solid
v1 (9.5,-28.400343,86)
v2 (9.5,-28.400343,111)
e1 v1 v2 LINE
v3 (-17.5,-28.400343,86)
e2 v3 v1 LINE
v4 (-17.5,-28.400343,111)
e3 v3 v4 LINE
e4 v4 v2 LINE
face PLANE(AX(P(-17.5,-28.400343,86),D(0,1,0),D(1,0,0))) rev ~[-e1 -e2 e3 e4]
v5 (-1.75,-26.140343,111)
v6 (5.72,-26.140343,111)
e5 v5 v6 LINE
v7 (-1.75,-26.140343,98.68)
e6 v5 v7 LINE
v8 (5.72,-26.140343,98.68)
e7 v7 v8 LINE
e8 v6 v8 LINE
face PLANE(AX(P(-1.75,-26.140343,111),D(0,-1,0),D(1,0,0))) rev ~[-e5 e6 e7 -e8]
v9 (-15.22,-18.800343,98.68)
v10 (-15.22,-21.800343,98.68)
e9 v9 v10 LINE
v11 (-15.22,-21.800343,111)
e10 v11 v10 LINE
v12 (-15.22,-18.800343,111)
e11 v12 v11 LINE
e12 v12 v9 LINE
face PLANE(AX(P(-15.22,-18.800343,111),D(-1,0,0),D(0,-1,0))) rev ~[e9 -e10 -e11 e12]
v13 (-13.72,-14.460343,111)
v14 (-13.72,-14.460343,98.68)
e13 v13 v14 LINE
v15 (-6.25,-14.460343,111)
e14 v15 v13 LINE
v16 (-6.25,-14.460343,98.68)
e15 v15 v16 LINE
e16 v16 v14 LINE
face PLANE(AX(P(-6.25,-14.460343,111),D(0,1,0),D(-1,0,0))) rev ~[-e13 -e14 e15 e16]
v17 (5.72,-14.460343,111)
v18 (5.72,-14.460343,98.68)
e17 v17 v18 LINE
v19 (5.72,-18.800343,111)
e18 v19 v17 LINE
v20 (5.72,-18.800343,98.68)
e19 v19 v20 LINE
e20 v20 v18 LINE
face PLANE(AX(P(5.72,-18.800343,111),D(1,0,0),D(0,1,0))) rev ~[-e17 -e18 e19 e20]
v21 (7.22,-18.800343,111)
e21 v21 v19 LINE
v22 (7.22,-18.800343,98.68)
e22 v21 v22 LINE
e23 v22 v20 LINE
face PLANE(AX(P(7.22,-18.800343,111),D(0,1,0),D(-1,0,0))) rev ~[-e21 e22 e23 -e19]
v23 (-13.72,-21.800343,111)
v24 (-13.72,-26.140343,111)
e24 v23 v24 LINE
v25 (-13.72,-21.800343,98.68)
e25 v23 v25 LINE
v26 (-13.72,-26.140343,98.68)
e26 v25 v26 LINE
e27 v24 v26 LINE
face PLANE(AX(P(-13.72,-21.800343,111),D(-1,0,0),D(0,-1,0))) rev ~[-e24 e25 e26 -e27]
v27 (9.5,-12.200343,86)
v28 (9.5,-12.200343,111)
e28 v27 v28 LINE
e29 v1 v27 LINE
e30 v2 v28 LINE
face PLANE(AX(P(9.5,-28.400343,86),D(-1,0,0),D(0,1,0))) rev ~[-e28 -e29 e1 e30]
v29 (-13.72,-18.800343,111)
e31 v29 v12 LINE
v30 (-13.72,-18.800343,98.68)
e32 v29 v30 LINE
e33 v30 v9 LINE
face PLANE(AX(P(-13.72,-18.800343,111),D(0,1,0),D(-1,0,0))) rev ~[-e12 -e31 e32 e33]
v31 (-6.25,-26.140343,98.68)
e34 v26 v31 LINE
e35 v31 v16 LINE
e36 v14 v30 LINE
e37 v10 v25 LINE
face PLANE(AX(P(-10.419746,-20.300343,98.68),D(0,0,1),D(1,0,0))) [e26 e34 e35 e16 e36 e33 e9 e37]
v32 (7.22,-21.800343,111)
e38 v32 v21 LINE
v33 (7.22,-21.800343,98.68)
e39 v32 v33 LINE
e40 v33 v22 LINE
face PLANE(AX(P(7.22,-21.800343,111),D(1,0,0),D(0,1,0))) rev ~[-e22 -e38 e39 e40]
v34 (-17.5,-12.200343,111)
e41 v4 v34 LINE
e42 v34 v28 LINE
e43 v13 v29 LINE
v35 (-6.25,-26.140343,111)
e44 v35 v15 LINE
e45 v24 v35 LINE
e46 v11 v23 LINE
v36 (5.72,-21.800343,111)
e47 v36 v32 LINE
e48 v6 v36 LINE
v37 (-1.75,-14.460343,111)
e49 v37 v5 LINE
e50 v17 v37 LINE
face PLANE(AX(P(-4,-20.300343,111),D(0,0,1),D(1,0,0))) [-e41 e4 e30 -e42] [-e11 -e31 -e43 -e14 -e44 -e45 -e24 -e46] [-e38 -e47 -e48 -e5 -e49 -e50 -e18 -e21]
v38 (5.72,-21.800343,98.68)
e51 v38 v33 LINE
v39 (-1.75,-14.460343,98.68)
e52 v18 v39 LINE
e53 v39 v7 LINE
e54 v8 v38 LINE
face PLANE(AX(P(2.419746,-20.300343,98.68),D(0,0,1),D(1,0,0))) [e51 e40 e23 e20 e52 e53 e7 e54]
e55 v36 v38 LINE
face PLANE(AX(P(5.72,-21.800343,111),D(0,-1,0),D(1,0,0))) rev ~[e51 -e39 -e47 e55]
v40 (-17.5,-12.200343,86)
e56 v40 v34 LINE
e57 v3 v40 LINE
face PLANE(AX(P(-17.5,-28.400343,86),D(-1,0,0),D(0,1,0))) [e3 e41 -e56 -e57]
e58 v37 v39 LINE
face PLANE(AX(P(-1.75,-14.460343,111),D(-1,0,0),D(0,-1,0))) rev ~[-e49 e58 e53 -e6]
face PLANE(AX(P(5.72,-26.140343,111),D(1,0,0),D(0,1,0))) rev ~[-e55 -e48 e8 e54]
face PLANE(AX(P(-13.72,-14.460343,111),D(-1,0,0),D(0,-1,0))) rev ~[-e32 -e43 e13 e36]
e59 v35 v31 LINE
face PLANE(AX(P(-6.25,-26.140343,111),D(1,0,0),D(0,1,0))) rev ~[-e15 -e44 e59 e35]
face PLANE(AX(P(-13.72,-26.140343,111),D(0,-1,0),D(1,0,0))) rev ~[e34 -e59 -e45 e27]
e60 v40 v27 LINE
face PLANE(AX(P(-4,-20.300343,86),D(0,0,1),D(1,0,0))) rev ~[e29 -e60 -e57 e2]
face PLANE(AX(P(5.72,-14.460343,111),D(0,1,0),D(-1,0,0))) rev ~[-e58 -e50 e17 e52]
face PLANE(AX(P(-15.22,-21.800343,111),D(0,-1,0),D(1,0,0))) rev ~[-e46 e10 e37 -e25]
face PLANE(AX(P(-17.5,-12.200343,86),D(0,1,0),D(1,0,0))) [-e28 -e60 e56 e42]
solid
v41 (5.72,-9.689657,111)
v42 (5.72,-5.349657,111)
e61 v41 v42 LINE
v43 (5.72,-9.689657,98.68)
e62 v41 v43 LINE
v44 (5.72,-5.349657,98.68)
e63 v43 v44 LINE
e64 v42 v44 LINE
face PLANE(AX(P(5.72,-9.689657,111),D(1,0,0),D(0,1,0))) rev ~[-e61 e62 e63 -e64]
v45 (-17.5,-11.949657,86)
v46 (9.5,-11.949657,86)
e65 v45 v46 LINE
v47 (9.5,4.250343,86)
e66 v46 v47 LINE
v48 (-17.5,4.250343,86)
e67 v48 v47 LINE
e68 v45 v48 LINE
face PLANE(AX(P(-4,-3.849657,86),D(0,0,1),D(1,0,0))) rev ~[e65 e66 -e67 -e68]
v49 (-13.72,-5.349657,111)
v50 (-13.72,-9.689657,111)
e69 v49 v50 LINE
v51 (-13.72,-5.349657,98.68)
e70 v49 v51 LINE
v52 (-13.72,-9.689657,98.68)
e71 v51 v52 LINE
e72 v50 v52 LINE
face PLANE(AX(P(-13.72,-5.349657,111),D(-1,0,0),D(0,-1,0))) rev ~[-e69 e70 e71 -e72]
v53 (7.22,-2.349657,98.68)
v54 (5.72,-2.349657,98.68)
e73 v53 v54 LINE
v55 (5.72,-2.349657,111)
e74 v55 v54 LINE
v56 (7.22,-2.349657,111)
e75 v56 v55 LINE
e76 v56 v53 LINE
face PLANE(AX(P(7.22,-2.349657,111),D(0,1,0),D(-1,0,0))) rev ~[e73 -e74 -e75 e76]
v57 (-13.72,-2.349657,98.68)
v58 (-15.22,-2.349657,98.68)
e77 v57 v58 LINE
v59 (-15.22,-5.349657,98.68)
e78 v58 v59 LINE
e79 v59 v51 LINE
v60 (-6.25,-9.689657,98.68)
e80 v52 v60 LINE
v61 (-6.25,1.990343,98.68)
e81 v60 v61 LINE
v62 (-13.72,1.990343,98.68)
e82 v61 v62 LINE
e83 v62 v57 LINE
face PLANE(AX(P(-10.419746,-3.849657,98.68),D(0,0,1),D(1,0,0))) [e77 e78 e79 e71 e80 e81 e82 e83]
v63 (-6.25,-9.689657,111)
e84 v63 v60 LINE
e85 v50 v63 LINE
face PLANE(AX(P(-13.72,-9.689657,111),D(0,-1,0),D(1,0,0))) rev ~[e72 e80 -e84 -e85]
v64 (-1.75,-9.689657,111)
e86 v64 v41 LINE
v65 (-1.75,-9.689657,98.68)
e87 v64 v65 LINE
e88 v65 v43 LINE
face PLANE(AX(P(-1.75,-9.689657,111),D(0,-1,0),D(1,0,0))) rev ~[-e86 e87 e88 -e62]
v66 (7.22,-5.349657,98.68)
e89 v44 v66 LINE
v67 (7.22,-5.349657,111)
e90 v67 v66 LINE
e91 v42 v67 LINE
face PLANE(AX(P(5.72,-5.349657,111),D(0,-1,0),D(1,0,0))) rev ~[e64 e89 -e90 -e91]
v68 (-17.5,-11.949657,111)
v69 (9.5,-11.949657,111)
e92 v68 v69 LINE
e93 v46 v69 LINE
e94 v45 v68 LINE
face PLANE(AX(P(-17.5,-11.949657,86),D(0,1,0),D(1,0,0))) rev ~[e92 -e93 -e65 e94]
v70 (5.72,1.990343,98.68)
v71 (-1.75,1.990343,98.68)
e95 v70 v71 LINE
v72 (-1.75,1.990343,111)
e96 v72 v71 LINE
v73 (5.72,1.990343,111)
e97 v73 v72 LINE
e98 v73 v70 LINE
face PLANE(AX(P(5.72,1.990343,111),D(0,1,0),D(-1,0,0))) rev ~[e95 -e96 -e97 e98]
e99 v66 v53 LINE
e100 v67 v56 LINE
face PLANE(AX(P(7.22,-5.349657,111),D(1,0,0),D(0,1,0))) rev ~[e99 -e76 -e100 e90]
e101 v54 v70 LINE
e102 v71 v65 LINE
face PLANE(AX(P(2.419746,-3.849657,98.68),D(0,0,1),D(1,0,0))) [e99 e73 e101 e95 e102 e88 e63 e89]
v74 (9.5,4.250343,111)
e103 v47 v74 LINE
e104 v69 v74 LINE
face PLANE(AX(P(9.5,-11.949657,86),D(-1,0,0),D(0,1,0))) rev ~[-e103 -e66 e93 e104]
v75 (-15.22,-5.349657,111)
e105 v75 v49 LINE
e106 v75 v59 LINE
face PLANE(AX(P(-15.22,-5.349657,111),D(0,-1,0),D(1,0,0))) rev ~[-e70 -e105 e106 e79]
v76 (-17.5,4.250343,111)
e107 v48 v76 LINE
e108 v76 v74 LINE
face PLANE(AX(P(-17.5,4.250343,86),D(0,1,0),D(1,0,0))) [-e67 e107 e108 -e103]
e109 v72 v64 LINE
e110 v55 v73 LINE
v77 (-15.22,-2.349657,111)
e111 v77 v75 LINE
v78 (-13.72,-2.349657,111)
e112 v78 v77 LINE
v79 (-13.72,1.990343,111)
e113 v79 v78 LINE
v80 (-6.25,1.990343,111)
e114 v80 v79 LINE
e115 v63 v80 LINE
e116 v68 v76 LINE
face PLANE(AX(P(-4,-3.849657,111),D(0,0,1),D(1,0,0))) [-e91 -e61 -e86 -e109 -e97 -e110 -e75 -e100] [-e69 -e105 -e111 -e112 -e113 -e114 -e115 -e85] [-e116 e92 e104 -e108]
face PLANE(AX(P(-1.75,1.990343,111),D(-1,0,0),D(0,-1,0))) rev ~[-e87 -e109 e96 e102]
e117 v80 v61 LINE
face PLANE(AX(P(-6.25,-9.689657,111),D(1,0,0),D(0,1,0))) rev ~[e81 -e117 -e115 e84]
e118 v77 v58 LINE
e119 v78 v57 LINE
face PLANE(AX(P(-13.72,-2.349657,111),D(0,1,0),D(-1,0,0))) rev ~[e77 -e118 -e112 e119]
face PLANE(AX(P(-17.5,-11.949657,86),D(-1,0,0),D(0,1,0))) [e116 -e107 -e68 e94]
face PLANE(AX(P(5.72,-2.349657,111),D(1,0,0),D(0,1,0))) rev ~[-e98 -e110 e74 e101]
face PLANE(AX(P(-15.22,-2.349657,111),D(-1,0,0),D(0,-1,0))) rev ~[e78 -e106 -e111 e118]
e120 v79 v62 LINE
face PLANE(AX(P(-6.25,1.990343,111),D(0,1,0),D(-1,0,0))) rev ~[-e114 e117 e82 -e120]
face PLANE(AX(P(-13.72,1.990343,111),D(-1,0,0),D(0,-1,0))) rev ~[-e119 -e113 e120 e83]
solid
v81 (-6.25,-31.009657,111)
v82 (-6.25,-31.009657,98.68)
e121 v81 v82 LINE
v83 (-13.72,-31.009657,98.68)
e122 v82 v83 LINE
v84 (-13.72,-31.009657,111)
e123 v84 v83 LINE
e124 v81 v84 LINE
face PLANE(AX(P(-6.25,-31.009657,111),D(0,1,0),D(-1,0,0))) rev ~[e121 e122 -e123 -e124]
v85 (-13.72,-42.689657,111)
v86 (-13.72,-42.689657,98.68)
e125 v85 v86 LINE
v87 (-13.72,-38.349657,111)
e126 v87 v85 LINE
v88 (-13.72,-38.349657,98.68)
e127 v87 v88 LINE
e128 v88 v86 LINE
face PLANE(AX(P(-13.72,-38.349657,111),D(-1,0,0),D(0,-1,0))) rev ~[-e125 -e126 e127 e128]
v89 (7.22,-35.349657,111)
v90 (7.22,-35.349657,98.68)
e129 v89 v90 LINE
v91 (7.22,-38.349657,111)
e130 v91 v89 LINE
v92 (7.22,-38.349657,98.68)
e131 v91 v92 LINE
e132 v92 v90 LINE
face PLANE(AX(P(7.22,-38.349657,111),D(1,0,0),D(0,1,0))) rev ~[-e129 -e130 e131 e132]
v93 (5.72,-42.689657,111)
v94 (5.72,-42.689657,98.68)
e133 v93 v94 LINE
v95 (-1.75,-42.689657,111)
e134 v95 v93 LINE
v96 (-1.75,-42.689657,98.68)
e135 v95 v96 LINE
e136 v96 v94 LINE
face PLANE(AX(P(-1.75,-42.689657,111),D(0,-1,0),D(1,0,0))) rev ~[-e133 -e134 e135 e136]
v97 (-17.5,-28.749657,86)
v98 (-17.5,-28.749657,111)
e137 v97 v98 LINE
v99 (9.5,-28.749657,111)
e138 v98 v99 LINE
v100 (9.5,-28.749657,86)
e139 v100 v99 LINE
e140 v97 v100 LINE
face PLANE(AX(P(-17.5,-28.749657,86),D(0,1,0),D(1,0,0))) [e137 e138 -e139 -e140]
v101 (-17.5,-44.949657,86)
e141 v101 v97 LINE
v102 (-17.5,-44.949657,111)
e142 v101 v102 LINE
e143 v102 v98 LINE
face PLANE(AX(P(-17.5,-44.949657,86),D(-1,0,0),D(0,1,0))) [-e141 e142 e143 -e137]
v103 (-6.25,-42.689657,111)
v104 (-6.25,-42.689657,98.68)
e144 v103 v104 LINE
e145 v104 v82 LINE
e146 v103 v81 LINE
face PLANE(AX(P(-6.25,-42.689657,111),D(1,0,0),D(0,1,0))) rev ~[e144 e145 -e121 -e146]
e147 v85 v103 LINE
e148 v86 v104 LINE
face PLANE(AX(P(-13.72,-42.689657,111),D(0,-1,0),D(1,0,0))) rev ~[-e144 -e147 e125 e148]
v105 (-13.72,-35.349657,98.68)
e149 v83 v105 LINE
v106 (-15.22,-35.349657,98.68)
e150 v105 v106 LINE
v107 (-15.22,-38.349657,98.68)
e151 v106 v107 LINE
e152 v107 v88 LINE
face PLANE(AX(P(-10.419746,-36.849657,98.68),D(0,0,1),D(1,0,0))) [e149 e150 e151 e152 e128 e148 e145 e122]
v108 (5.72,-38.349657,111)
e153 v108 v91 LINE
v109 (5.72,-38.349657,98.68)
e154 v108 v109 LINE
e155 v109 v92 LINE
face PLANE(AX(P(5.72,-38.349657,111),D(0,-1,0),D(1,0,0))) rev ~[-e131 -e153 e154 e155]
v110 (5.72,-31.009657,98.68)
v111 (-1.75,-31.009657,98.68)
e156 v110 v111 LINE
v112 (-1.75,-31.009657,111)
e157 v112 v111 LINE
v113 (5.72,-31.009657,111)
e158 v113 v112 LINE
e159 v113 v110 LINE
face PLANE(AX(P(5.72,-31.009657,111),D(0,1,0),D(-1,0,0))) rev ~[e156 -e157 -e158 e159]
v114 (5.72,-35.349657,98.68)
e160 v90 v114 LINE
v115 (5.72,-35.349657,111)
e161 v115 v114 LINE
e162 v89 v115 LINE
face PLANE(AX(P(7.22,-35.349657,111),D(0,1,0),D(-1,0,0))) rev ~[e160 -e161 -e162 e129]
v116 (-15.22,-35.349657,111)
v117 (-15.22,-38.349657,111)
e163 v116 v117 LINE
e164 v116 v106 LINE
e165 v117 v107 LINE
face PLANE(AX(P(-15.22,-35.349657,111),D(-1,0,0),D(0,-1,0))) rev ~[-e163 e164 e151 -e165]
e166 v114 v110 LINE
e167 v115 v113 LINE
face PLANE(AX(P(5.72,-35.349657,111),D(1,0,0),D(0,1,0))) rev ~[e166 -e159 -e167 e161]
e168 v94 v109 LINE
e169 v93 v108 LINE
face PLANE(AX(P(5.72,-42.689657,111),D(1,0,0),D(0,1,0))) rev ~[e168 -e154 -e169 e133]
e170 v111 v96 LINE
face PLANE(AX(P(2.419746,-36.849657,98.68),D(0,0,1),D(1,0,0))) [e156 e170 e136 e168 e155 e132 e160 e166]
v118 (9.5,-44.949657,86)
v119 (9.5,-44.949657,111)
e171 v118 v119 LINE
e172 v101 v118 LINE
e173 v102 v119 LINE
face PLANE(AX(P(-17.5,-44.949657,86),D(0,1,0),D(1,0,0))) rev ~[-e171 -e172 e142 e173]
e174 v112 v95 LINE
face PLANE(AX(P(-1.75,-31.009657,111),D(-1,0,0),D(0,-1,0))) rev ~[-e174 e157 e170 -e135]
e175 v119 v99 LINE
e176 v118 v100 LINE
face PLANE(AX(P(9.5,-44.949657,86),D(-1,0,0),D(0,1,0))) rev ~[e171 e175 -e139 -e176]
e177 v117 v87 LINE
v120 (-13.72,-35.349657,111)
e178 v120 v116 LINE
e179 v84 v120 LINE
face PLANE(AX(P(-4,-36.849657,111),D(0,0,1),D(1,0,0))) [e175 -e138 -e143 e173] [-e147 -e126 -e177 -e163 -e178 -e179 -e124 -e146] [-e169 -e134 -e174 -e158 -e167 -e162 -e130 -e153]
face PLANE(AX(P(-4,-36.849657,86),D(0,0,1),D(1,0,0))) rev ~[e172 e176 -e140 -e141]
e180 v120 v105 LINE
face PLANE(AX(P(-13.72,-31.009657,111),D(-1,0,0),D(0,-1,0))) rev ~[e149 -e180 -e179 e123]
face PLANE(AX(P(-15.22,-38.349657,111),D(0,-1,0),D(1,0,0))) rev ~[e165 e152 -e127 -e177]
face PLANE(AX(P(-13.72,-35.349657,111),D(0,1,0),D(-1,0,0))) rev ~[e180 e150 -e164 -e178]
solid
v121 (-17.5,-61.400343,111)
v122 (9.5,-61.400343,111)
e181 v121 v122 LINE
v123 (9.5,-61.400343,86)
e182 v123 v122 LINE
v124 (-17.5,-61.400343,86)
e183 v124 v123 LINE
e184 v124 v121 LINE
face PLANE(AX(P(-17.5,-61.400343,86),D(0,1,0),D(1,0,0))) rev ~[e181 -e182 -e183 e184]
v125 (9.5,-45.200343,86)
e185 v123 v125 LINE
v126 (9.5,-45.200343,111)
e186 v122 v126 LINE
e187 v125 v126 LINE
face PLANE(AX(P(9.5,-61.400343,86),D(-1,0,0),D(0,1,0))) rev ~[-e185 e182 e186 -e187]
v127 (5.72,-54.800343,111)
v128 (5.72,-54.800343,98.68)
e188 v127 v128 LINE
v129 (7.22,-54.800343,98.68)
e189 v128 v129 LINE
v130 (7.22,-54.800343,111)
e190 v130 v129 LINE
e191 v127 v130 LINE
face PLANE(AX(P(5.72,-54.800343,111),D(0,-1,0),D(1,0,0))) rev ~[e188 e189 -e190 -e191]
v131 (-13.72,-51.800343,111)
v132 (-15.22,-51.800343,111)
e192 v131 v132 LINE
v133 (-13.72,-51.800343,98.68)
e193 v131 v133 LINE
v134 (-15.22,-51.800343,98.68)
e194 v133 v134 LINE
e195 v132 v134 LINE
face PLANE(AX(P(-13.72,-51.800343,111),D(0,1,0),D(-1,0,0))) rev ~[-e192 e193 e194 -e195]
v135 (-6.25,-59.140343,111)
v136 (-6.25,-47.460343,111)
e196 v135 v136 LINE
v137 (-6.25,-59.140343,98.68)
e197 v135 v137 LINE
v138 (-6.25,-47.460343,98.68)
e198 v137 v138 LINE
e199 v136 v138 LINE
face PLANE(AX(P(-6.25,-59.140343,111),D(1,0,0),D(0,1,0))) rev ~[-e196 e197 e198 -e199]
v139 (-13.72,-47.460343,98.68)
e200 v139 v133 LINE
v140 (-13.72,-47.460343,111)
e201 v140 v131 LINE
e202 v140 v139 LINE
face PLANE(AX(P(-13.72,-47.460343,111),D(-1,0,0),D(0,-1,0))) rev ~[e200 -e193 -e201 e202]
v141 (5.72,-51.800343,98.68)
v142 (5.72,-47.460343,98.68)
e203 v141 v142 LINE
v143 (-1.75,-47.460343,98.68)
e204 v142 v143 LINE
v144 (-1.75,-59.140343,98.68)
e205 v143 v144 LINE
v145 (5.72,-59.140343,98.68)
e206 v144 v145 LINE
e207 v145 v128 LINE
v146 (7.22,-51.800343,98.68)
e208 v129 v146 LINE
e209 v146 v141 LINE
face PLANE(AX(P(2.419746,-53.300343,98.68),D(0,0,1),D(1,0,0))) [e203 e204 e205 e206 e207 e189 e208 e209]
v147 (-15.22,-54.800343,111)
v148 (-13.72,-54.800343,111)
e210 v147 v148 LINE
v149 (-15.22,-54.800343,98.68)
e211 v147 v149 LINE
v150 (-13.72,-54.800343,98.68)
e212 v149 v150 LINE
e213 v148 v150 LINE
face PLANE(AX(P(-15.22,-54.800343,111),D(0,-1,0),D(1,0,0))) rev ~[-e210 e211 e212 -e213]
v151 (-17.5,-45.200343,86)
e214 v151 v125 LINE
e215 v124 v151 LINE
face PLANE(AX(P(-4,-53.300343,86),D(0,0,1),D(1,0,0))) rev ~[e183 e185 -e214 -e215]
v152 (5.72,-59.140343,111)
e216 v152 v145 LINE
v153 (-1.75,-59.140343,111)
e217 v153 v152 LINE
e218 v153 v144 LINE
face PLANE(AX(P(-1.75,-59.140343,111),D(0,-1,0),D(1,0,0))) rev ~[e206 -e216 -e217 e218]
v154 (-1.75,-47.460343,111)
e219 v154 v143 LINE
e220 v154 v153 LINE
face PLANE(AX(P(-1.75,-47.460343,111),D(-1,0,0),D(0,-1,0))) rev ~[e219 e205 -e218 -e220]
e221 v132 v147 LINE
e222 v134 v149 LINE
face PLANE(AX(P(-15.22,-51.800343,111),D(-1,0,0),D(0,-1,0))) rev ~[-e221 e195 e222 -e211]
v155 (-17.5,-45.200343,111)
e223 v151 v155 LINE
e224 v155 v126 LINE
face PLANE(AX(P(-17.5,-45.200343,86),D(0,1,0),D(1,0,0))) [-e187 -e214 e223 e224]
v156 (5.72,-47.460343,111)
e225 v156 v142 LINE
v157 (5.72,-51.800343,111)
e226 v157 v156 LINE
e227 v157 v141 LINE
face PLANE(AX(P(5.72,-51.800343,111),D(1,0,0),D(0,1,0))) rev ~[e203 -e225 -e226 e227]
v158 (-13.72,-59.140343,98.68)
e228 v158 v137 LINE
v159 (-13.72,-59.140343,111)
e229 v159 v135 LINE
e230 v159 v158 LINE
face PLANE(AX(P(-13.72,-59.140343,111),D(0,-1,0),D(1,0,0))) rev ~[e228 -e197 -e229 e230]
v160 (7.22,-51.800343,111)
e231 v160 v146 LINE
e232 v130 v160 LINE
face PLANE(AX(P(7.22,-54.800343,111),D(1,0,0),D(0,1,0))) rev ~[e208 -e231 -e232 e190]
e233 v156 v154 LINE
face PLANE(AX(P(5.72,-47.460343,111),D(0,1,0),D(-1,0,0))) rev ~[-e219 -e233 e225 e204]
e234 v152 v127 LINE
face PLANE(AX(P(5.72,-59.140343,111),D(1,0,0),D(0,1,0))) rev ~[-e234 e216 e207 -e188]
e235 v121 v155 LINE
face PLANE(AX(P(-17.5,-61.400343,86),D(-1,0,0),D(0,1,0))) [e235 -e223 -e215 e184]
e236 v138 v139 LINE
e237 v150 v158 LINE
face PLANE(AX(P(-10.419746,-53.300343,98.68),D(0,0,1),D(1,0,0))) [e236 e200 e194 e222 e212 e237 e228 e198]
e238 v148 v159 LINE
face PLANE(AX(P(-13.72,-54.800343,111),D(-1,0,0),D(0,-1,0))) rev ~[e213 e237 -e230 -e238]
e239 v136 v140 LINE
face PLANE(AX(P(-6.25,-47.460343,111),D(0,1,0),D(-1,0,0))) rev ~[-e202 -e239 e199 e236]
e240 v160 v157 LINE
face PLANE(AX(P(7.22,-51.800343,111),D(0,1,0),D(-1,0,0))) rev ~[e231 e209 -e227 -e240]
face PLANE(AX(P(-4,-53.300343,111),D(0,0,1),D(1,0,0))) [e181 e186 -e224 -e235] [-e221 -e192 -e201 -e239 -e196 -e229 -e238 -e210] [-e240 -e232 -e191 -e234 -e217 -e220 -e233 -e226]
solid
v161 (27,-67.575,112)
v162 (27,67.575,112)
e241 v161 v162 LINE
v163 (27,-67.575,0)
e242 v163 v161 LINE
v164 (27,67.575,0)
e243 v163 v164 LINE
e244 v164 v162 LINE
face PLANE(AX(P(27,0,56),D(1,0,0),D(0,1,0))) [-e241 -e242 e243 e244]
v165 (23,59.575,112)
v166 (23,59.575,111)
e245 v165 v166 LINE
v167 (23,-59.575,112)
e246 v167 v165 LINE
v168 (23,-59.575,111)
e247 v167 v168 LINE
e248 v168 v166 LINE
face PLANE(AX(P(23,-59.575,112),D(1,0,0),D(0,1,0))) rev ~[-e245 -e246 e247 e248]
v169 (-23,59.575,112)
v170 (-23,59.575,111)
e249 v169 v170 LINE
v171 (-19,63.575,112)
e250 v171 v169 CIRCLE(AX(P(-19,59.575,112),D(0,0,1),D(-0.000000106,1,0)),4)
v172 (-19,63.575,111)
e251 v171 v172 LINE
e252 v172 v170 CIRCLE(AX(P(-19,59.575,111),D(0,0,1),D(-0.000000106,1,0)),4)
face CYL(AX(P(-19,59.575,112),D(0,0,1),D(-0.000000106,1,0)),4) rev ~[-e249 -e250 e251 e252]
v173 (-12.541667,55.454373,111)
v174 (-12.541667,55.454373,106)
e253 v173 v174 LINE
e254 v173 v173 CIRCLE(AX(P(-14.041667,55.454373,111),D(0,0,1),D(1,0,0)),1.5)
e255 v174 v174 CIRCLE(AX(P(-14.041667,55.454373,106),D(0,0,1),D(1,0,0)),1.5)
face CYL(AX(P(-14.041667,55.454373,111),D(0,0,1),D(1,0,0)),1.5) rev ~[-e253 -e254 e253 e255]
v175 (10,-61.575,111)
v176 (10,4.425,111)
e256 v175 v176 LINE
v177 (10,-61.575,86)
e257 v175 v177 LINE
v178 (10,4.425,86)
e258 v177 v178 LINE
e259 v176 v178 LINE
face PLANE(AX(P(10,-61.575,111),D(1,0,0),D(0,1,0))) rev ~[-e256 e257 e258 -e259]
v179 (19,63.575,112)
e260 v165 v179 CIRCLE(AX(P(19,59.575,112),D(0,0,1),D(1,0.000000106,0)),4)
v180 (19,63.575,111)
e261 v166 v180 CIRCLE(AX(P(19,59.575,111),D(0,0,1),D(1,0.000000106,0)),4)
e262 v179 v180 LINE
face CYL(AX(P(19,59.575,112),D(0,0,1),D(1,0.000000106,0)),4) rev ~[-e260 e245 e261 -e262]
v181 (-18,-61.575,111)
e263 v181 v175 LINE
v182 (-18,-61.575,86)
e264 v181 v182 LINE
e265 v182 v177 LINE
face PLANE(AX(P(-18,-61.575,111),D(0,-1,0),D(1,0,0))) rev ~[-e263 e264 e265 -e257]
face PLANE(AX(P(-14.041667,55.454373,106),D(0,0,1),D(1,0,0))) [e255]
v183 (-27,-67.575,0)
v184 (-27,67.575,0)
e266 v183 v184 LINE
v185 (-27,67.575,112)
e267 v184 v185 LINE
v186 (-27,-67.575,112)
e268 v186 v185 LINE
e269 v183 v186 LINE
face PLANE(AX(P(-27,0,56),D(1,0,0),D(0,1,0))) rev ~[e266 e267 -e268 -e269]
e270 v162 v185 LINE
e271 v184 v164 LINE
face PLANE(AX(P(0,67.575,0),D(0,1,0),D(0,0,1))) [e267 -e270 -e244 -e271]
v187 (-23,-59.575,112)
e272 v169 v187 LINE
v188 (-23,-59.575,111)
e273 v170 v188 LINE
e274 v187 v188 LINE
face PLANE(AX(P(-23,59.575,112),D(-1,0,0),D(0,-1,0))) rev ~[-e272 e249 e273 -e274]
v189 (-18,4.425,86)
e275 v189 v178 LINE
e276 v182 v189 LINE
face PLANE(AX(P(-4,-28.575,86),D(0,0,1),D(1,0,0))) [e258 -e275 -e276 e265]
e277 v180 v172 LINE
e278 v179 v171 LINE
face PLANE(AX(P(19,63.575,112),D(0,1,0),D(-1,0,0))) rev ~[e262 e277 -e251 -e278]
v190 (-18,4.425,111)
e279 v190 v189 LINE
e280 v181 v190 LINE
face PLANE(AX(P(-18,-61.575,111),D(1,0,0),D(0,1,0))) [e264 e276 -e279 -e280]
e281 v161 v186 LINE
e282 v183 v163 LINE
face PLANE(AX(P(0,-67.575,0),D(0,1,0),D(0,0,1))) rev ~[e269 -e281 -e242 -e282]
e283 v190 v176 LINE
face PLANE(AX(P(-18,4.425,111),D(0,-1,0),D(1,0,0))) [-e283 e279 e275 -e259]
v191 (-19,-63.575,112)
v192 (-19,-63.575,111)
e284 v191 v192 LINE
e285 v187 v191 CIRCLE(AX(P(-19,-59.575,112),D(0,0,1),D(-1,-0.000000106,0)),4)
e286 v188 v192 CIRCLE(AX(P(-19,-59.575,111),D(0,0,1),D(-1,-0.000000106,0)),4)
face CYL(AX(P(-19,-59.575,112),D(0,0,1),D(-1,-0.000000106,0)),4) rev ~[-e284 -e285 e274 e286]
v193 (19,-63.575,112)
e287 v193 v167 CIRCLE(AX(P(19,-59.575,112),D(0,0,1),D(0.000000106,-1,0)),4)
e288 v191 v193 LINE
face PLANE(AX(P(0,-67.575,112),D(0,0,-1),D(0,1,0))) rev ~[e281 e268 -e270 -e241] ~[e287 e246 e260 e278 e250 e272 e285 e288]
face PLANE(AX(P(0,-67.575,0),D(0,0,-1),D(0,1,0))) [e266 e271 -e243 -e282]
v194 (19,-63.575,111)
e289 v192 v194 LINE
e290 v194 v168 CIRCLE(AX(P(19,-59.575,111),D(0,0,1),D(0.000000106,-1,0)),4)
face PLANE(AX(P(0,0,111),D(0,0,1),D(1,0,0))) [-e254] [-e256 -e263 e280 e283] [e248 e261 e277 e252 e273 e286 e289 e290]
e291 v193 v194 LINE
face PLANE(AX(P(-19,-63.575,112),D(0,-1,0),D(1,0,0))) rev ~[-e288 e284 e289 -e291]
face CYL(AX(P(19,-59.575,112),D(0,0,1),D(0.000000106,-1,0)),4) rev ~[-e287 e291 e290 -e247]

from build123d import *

# Parameters (mm, degrees)
F0_W      = 135.15
F0_H      = 112
F1_DEPTH  = 27
F3_DEPTH  = 1
F4_W      = 28
F4_H      = 66
F5_DEPTH  = 25
F6_W      = 27
F6_H      = 16.2
F7_DEPTH  = 25
F9_DEPTH  = 12.32
F10_R     = 1.5
F11_DEPTH = 5


with BuildPart() as f1:
    # F0 (on Right) → F1 (new body, symmetric)
    with BuildSketch(Plane.YZ):
        with Locations((0, 56)):
            Rectangle(F0_W, F0_H)
    extrude(amount=F1_DEPTH, both=True)

    # F2 (on face) → F3 (cut)
    with BuildSketch(Plane.XY.offset(112)):
        with BuildLine():
            ThreePointArc((23, 59.575), (21.828427, 62.403427), (19, 63.575))
            Line((19, 63.575), (-19, 63.575))
            ThreePointArc((-19, 63.575), (-21.828427, 62.403427), (-23, 59.575))
            Line((-23, 59.575), (-23, -59.575))
            ThreePointArc((-23, -59.575), (-21.828427, -62.403427), (-19, -63.575))
            Line((-19, -63.575), (19, -63.575))
            ThreePointArc((19, -63.575), (21.828427, -62.403427), (23, -59.575))
            Line((23, -59.575), (23, 59.575))
        make_face()
    extrude(amount=-F3_DEPTH, mode=Mode.SUBTRACT)

    # F4 (on face) → F5 (cut)
    with BuildSketch(Plane.XY.offset(111)):
        with Locations((-4, -28.575)):
            Rectangle(F4_W, F4_H)
    extrude(amount=-F5_DEPTH, mode=Mode.SUBTRACT)

    # F10 (on face) → F11 (cut)
    with BuildSketch(Plane.XY.offset(111)):
        with Locations((-14.041667, 55.454373)):
            Circle(F10_R)
    extrude(amount=-F11_DEPTH, mode=Mode.SUBTRACT)


with BuildPart() as f7:
    # F6 (on face) → F7 (new body)
    with BuildSketch(Plane.XY.offset(86)):
        with Locations((-4, -20.300343)):
            Rectangle(F6_W, F6_H)
        with Locations((-4, -3.849657)):
            Rectangle(F6_W, F6_H)
        with Locations((-4, -36.849657)):
            Rectangle(F6_W, F6_H)
        with Locations((-4, -53.300343)):
            Rectangle(F6_W, F6_H)
    extrude(amount=F7_DEPTH)

    # F8 (on face) → F9 (cut)
    with BuildSketch(Plane.XY.offset(111)):
        Polygon((-13.72, -9.689657), (-6.25, -9.689657), (-6.25, 1.990343), (-13.72, 1.990343), (-13.72, -2.349657), (-15.22, -2.349657), (-15.22, -5.349657), (-13.72, -5.349657), align=None)
        Polygon((7.22, -2.349657), (5.72, -2.349657), (5.72, 1.990343), (-1.75, 1.990343), (-1.75, -9.689657), (5.72, -9.689657), (5.72, -5.349657), (7.22, -5.349657), align=None)
        Polygon((5.72, -18.800343), (5.72, -14.460343), (-1.75, -14.460343), (-1.75, -26.140343), (5.72, -26.140343), (5.72, -21.800343), (7.22, -21.800343), (7.22, -18.800343), align=None)
        Polygon((-6.25, -26.140343), (-6.25, -14.460343), (-13.72, -14.460343), (-13.72, -18.800343), (-15.22, -18.800343), (-15.22, -21.800343), (-13.72, -21.800343), (-13.72, -26.140343), align=None)
        Polygon((5.72, -31.009657), (-1.75, -31.009657), (-1.75, -42.689657), (5.72, -42.689657), (5.72, -38.349657), (7.22, -38.349657), (7.22, -35.349657), (5.72, -35.349657), align=None)
        Polygon((-13.72, -42.689657), (-6.25, -42.689657), (-6.25, -31.009657), (-13.72, -31.009657), (-13.72, -35.349657), (-15.22, -35.349657), (-15.22, -38.349657), (-13.72, -38.349657), align=None)
        Polygon((5.72, -51.800343), (5.72, -47.460343), (-1.75, -47.460343), (-1.75, -59.140343), (5.72, -59.140343), (5.72, -54.800343), (7.22, -54.800343), (7.22, -51.800343), align=None)
        Polygon((-6.25, -59.140343), (-6.25, -47.460343), (-13.72, -47.460343), (-13.72, -51.800343), (-15.22, -51.800343), (-15.22, -54.800343), (-13.72, -54.800343), (-13.72, -59.140343), align=None)
    extrude(amount=-F9_DEPTH, mode=Mode.SUBTRACT)


solid = Compound([f1.part, f7.part])
